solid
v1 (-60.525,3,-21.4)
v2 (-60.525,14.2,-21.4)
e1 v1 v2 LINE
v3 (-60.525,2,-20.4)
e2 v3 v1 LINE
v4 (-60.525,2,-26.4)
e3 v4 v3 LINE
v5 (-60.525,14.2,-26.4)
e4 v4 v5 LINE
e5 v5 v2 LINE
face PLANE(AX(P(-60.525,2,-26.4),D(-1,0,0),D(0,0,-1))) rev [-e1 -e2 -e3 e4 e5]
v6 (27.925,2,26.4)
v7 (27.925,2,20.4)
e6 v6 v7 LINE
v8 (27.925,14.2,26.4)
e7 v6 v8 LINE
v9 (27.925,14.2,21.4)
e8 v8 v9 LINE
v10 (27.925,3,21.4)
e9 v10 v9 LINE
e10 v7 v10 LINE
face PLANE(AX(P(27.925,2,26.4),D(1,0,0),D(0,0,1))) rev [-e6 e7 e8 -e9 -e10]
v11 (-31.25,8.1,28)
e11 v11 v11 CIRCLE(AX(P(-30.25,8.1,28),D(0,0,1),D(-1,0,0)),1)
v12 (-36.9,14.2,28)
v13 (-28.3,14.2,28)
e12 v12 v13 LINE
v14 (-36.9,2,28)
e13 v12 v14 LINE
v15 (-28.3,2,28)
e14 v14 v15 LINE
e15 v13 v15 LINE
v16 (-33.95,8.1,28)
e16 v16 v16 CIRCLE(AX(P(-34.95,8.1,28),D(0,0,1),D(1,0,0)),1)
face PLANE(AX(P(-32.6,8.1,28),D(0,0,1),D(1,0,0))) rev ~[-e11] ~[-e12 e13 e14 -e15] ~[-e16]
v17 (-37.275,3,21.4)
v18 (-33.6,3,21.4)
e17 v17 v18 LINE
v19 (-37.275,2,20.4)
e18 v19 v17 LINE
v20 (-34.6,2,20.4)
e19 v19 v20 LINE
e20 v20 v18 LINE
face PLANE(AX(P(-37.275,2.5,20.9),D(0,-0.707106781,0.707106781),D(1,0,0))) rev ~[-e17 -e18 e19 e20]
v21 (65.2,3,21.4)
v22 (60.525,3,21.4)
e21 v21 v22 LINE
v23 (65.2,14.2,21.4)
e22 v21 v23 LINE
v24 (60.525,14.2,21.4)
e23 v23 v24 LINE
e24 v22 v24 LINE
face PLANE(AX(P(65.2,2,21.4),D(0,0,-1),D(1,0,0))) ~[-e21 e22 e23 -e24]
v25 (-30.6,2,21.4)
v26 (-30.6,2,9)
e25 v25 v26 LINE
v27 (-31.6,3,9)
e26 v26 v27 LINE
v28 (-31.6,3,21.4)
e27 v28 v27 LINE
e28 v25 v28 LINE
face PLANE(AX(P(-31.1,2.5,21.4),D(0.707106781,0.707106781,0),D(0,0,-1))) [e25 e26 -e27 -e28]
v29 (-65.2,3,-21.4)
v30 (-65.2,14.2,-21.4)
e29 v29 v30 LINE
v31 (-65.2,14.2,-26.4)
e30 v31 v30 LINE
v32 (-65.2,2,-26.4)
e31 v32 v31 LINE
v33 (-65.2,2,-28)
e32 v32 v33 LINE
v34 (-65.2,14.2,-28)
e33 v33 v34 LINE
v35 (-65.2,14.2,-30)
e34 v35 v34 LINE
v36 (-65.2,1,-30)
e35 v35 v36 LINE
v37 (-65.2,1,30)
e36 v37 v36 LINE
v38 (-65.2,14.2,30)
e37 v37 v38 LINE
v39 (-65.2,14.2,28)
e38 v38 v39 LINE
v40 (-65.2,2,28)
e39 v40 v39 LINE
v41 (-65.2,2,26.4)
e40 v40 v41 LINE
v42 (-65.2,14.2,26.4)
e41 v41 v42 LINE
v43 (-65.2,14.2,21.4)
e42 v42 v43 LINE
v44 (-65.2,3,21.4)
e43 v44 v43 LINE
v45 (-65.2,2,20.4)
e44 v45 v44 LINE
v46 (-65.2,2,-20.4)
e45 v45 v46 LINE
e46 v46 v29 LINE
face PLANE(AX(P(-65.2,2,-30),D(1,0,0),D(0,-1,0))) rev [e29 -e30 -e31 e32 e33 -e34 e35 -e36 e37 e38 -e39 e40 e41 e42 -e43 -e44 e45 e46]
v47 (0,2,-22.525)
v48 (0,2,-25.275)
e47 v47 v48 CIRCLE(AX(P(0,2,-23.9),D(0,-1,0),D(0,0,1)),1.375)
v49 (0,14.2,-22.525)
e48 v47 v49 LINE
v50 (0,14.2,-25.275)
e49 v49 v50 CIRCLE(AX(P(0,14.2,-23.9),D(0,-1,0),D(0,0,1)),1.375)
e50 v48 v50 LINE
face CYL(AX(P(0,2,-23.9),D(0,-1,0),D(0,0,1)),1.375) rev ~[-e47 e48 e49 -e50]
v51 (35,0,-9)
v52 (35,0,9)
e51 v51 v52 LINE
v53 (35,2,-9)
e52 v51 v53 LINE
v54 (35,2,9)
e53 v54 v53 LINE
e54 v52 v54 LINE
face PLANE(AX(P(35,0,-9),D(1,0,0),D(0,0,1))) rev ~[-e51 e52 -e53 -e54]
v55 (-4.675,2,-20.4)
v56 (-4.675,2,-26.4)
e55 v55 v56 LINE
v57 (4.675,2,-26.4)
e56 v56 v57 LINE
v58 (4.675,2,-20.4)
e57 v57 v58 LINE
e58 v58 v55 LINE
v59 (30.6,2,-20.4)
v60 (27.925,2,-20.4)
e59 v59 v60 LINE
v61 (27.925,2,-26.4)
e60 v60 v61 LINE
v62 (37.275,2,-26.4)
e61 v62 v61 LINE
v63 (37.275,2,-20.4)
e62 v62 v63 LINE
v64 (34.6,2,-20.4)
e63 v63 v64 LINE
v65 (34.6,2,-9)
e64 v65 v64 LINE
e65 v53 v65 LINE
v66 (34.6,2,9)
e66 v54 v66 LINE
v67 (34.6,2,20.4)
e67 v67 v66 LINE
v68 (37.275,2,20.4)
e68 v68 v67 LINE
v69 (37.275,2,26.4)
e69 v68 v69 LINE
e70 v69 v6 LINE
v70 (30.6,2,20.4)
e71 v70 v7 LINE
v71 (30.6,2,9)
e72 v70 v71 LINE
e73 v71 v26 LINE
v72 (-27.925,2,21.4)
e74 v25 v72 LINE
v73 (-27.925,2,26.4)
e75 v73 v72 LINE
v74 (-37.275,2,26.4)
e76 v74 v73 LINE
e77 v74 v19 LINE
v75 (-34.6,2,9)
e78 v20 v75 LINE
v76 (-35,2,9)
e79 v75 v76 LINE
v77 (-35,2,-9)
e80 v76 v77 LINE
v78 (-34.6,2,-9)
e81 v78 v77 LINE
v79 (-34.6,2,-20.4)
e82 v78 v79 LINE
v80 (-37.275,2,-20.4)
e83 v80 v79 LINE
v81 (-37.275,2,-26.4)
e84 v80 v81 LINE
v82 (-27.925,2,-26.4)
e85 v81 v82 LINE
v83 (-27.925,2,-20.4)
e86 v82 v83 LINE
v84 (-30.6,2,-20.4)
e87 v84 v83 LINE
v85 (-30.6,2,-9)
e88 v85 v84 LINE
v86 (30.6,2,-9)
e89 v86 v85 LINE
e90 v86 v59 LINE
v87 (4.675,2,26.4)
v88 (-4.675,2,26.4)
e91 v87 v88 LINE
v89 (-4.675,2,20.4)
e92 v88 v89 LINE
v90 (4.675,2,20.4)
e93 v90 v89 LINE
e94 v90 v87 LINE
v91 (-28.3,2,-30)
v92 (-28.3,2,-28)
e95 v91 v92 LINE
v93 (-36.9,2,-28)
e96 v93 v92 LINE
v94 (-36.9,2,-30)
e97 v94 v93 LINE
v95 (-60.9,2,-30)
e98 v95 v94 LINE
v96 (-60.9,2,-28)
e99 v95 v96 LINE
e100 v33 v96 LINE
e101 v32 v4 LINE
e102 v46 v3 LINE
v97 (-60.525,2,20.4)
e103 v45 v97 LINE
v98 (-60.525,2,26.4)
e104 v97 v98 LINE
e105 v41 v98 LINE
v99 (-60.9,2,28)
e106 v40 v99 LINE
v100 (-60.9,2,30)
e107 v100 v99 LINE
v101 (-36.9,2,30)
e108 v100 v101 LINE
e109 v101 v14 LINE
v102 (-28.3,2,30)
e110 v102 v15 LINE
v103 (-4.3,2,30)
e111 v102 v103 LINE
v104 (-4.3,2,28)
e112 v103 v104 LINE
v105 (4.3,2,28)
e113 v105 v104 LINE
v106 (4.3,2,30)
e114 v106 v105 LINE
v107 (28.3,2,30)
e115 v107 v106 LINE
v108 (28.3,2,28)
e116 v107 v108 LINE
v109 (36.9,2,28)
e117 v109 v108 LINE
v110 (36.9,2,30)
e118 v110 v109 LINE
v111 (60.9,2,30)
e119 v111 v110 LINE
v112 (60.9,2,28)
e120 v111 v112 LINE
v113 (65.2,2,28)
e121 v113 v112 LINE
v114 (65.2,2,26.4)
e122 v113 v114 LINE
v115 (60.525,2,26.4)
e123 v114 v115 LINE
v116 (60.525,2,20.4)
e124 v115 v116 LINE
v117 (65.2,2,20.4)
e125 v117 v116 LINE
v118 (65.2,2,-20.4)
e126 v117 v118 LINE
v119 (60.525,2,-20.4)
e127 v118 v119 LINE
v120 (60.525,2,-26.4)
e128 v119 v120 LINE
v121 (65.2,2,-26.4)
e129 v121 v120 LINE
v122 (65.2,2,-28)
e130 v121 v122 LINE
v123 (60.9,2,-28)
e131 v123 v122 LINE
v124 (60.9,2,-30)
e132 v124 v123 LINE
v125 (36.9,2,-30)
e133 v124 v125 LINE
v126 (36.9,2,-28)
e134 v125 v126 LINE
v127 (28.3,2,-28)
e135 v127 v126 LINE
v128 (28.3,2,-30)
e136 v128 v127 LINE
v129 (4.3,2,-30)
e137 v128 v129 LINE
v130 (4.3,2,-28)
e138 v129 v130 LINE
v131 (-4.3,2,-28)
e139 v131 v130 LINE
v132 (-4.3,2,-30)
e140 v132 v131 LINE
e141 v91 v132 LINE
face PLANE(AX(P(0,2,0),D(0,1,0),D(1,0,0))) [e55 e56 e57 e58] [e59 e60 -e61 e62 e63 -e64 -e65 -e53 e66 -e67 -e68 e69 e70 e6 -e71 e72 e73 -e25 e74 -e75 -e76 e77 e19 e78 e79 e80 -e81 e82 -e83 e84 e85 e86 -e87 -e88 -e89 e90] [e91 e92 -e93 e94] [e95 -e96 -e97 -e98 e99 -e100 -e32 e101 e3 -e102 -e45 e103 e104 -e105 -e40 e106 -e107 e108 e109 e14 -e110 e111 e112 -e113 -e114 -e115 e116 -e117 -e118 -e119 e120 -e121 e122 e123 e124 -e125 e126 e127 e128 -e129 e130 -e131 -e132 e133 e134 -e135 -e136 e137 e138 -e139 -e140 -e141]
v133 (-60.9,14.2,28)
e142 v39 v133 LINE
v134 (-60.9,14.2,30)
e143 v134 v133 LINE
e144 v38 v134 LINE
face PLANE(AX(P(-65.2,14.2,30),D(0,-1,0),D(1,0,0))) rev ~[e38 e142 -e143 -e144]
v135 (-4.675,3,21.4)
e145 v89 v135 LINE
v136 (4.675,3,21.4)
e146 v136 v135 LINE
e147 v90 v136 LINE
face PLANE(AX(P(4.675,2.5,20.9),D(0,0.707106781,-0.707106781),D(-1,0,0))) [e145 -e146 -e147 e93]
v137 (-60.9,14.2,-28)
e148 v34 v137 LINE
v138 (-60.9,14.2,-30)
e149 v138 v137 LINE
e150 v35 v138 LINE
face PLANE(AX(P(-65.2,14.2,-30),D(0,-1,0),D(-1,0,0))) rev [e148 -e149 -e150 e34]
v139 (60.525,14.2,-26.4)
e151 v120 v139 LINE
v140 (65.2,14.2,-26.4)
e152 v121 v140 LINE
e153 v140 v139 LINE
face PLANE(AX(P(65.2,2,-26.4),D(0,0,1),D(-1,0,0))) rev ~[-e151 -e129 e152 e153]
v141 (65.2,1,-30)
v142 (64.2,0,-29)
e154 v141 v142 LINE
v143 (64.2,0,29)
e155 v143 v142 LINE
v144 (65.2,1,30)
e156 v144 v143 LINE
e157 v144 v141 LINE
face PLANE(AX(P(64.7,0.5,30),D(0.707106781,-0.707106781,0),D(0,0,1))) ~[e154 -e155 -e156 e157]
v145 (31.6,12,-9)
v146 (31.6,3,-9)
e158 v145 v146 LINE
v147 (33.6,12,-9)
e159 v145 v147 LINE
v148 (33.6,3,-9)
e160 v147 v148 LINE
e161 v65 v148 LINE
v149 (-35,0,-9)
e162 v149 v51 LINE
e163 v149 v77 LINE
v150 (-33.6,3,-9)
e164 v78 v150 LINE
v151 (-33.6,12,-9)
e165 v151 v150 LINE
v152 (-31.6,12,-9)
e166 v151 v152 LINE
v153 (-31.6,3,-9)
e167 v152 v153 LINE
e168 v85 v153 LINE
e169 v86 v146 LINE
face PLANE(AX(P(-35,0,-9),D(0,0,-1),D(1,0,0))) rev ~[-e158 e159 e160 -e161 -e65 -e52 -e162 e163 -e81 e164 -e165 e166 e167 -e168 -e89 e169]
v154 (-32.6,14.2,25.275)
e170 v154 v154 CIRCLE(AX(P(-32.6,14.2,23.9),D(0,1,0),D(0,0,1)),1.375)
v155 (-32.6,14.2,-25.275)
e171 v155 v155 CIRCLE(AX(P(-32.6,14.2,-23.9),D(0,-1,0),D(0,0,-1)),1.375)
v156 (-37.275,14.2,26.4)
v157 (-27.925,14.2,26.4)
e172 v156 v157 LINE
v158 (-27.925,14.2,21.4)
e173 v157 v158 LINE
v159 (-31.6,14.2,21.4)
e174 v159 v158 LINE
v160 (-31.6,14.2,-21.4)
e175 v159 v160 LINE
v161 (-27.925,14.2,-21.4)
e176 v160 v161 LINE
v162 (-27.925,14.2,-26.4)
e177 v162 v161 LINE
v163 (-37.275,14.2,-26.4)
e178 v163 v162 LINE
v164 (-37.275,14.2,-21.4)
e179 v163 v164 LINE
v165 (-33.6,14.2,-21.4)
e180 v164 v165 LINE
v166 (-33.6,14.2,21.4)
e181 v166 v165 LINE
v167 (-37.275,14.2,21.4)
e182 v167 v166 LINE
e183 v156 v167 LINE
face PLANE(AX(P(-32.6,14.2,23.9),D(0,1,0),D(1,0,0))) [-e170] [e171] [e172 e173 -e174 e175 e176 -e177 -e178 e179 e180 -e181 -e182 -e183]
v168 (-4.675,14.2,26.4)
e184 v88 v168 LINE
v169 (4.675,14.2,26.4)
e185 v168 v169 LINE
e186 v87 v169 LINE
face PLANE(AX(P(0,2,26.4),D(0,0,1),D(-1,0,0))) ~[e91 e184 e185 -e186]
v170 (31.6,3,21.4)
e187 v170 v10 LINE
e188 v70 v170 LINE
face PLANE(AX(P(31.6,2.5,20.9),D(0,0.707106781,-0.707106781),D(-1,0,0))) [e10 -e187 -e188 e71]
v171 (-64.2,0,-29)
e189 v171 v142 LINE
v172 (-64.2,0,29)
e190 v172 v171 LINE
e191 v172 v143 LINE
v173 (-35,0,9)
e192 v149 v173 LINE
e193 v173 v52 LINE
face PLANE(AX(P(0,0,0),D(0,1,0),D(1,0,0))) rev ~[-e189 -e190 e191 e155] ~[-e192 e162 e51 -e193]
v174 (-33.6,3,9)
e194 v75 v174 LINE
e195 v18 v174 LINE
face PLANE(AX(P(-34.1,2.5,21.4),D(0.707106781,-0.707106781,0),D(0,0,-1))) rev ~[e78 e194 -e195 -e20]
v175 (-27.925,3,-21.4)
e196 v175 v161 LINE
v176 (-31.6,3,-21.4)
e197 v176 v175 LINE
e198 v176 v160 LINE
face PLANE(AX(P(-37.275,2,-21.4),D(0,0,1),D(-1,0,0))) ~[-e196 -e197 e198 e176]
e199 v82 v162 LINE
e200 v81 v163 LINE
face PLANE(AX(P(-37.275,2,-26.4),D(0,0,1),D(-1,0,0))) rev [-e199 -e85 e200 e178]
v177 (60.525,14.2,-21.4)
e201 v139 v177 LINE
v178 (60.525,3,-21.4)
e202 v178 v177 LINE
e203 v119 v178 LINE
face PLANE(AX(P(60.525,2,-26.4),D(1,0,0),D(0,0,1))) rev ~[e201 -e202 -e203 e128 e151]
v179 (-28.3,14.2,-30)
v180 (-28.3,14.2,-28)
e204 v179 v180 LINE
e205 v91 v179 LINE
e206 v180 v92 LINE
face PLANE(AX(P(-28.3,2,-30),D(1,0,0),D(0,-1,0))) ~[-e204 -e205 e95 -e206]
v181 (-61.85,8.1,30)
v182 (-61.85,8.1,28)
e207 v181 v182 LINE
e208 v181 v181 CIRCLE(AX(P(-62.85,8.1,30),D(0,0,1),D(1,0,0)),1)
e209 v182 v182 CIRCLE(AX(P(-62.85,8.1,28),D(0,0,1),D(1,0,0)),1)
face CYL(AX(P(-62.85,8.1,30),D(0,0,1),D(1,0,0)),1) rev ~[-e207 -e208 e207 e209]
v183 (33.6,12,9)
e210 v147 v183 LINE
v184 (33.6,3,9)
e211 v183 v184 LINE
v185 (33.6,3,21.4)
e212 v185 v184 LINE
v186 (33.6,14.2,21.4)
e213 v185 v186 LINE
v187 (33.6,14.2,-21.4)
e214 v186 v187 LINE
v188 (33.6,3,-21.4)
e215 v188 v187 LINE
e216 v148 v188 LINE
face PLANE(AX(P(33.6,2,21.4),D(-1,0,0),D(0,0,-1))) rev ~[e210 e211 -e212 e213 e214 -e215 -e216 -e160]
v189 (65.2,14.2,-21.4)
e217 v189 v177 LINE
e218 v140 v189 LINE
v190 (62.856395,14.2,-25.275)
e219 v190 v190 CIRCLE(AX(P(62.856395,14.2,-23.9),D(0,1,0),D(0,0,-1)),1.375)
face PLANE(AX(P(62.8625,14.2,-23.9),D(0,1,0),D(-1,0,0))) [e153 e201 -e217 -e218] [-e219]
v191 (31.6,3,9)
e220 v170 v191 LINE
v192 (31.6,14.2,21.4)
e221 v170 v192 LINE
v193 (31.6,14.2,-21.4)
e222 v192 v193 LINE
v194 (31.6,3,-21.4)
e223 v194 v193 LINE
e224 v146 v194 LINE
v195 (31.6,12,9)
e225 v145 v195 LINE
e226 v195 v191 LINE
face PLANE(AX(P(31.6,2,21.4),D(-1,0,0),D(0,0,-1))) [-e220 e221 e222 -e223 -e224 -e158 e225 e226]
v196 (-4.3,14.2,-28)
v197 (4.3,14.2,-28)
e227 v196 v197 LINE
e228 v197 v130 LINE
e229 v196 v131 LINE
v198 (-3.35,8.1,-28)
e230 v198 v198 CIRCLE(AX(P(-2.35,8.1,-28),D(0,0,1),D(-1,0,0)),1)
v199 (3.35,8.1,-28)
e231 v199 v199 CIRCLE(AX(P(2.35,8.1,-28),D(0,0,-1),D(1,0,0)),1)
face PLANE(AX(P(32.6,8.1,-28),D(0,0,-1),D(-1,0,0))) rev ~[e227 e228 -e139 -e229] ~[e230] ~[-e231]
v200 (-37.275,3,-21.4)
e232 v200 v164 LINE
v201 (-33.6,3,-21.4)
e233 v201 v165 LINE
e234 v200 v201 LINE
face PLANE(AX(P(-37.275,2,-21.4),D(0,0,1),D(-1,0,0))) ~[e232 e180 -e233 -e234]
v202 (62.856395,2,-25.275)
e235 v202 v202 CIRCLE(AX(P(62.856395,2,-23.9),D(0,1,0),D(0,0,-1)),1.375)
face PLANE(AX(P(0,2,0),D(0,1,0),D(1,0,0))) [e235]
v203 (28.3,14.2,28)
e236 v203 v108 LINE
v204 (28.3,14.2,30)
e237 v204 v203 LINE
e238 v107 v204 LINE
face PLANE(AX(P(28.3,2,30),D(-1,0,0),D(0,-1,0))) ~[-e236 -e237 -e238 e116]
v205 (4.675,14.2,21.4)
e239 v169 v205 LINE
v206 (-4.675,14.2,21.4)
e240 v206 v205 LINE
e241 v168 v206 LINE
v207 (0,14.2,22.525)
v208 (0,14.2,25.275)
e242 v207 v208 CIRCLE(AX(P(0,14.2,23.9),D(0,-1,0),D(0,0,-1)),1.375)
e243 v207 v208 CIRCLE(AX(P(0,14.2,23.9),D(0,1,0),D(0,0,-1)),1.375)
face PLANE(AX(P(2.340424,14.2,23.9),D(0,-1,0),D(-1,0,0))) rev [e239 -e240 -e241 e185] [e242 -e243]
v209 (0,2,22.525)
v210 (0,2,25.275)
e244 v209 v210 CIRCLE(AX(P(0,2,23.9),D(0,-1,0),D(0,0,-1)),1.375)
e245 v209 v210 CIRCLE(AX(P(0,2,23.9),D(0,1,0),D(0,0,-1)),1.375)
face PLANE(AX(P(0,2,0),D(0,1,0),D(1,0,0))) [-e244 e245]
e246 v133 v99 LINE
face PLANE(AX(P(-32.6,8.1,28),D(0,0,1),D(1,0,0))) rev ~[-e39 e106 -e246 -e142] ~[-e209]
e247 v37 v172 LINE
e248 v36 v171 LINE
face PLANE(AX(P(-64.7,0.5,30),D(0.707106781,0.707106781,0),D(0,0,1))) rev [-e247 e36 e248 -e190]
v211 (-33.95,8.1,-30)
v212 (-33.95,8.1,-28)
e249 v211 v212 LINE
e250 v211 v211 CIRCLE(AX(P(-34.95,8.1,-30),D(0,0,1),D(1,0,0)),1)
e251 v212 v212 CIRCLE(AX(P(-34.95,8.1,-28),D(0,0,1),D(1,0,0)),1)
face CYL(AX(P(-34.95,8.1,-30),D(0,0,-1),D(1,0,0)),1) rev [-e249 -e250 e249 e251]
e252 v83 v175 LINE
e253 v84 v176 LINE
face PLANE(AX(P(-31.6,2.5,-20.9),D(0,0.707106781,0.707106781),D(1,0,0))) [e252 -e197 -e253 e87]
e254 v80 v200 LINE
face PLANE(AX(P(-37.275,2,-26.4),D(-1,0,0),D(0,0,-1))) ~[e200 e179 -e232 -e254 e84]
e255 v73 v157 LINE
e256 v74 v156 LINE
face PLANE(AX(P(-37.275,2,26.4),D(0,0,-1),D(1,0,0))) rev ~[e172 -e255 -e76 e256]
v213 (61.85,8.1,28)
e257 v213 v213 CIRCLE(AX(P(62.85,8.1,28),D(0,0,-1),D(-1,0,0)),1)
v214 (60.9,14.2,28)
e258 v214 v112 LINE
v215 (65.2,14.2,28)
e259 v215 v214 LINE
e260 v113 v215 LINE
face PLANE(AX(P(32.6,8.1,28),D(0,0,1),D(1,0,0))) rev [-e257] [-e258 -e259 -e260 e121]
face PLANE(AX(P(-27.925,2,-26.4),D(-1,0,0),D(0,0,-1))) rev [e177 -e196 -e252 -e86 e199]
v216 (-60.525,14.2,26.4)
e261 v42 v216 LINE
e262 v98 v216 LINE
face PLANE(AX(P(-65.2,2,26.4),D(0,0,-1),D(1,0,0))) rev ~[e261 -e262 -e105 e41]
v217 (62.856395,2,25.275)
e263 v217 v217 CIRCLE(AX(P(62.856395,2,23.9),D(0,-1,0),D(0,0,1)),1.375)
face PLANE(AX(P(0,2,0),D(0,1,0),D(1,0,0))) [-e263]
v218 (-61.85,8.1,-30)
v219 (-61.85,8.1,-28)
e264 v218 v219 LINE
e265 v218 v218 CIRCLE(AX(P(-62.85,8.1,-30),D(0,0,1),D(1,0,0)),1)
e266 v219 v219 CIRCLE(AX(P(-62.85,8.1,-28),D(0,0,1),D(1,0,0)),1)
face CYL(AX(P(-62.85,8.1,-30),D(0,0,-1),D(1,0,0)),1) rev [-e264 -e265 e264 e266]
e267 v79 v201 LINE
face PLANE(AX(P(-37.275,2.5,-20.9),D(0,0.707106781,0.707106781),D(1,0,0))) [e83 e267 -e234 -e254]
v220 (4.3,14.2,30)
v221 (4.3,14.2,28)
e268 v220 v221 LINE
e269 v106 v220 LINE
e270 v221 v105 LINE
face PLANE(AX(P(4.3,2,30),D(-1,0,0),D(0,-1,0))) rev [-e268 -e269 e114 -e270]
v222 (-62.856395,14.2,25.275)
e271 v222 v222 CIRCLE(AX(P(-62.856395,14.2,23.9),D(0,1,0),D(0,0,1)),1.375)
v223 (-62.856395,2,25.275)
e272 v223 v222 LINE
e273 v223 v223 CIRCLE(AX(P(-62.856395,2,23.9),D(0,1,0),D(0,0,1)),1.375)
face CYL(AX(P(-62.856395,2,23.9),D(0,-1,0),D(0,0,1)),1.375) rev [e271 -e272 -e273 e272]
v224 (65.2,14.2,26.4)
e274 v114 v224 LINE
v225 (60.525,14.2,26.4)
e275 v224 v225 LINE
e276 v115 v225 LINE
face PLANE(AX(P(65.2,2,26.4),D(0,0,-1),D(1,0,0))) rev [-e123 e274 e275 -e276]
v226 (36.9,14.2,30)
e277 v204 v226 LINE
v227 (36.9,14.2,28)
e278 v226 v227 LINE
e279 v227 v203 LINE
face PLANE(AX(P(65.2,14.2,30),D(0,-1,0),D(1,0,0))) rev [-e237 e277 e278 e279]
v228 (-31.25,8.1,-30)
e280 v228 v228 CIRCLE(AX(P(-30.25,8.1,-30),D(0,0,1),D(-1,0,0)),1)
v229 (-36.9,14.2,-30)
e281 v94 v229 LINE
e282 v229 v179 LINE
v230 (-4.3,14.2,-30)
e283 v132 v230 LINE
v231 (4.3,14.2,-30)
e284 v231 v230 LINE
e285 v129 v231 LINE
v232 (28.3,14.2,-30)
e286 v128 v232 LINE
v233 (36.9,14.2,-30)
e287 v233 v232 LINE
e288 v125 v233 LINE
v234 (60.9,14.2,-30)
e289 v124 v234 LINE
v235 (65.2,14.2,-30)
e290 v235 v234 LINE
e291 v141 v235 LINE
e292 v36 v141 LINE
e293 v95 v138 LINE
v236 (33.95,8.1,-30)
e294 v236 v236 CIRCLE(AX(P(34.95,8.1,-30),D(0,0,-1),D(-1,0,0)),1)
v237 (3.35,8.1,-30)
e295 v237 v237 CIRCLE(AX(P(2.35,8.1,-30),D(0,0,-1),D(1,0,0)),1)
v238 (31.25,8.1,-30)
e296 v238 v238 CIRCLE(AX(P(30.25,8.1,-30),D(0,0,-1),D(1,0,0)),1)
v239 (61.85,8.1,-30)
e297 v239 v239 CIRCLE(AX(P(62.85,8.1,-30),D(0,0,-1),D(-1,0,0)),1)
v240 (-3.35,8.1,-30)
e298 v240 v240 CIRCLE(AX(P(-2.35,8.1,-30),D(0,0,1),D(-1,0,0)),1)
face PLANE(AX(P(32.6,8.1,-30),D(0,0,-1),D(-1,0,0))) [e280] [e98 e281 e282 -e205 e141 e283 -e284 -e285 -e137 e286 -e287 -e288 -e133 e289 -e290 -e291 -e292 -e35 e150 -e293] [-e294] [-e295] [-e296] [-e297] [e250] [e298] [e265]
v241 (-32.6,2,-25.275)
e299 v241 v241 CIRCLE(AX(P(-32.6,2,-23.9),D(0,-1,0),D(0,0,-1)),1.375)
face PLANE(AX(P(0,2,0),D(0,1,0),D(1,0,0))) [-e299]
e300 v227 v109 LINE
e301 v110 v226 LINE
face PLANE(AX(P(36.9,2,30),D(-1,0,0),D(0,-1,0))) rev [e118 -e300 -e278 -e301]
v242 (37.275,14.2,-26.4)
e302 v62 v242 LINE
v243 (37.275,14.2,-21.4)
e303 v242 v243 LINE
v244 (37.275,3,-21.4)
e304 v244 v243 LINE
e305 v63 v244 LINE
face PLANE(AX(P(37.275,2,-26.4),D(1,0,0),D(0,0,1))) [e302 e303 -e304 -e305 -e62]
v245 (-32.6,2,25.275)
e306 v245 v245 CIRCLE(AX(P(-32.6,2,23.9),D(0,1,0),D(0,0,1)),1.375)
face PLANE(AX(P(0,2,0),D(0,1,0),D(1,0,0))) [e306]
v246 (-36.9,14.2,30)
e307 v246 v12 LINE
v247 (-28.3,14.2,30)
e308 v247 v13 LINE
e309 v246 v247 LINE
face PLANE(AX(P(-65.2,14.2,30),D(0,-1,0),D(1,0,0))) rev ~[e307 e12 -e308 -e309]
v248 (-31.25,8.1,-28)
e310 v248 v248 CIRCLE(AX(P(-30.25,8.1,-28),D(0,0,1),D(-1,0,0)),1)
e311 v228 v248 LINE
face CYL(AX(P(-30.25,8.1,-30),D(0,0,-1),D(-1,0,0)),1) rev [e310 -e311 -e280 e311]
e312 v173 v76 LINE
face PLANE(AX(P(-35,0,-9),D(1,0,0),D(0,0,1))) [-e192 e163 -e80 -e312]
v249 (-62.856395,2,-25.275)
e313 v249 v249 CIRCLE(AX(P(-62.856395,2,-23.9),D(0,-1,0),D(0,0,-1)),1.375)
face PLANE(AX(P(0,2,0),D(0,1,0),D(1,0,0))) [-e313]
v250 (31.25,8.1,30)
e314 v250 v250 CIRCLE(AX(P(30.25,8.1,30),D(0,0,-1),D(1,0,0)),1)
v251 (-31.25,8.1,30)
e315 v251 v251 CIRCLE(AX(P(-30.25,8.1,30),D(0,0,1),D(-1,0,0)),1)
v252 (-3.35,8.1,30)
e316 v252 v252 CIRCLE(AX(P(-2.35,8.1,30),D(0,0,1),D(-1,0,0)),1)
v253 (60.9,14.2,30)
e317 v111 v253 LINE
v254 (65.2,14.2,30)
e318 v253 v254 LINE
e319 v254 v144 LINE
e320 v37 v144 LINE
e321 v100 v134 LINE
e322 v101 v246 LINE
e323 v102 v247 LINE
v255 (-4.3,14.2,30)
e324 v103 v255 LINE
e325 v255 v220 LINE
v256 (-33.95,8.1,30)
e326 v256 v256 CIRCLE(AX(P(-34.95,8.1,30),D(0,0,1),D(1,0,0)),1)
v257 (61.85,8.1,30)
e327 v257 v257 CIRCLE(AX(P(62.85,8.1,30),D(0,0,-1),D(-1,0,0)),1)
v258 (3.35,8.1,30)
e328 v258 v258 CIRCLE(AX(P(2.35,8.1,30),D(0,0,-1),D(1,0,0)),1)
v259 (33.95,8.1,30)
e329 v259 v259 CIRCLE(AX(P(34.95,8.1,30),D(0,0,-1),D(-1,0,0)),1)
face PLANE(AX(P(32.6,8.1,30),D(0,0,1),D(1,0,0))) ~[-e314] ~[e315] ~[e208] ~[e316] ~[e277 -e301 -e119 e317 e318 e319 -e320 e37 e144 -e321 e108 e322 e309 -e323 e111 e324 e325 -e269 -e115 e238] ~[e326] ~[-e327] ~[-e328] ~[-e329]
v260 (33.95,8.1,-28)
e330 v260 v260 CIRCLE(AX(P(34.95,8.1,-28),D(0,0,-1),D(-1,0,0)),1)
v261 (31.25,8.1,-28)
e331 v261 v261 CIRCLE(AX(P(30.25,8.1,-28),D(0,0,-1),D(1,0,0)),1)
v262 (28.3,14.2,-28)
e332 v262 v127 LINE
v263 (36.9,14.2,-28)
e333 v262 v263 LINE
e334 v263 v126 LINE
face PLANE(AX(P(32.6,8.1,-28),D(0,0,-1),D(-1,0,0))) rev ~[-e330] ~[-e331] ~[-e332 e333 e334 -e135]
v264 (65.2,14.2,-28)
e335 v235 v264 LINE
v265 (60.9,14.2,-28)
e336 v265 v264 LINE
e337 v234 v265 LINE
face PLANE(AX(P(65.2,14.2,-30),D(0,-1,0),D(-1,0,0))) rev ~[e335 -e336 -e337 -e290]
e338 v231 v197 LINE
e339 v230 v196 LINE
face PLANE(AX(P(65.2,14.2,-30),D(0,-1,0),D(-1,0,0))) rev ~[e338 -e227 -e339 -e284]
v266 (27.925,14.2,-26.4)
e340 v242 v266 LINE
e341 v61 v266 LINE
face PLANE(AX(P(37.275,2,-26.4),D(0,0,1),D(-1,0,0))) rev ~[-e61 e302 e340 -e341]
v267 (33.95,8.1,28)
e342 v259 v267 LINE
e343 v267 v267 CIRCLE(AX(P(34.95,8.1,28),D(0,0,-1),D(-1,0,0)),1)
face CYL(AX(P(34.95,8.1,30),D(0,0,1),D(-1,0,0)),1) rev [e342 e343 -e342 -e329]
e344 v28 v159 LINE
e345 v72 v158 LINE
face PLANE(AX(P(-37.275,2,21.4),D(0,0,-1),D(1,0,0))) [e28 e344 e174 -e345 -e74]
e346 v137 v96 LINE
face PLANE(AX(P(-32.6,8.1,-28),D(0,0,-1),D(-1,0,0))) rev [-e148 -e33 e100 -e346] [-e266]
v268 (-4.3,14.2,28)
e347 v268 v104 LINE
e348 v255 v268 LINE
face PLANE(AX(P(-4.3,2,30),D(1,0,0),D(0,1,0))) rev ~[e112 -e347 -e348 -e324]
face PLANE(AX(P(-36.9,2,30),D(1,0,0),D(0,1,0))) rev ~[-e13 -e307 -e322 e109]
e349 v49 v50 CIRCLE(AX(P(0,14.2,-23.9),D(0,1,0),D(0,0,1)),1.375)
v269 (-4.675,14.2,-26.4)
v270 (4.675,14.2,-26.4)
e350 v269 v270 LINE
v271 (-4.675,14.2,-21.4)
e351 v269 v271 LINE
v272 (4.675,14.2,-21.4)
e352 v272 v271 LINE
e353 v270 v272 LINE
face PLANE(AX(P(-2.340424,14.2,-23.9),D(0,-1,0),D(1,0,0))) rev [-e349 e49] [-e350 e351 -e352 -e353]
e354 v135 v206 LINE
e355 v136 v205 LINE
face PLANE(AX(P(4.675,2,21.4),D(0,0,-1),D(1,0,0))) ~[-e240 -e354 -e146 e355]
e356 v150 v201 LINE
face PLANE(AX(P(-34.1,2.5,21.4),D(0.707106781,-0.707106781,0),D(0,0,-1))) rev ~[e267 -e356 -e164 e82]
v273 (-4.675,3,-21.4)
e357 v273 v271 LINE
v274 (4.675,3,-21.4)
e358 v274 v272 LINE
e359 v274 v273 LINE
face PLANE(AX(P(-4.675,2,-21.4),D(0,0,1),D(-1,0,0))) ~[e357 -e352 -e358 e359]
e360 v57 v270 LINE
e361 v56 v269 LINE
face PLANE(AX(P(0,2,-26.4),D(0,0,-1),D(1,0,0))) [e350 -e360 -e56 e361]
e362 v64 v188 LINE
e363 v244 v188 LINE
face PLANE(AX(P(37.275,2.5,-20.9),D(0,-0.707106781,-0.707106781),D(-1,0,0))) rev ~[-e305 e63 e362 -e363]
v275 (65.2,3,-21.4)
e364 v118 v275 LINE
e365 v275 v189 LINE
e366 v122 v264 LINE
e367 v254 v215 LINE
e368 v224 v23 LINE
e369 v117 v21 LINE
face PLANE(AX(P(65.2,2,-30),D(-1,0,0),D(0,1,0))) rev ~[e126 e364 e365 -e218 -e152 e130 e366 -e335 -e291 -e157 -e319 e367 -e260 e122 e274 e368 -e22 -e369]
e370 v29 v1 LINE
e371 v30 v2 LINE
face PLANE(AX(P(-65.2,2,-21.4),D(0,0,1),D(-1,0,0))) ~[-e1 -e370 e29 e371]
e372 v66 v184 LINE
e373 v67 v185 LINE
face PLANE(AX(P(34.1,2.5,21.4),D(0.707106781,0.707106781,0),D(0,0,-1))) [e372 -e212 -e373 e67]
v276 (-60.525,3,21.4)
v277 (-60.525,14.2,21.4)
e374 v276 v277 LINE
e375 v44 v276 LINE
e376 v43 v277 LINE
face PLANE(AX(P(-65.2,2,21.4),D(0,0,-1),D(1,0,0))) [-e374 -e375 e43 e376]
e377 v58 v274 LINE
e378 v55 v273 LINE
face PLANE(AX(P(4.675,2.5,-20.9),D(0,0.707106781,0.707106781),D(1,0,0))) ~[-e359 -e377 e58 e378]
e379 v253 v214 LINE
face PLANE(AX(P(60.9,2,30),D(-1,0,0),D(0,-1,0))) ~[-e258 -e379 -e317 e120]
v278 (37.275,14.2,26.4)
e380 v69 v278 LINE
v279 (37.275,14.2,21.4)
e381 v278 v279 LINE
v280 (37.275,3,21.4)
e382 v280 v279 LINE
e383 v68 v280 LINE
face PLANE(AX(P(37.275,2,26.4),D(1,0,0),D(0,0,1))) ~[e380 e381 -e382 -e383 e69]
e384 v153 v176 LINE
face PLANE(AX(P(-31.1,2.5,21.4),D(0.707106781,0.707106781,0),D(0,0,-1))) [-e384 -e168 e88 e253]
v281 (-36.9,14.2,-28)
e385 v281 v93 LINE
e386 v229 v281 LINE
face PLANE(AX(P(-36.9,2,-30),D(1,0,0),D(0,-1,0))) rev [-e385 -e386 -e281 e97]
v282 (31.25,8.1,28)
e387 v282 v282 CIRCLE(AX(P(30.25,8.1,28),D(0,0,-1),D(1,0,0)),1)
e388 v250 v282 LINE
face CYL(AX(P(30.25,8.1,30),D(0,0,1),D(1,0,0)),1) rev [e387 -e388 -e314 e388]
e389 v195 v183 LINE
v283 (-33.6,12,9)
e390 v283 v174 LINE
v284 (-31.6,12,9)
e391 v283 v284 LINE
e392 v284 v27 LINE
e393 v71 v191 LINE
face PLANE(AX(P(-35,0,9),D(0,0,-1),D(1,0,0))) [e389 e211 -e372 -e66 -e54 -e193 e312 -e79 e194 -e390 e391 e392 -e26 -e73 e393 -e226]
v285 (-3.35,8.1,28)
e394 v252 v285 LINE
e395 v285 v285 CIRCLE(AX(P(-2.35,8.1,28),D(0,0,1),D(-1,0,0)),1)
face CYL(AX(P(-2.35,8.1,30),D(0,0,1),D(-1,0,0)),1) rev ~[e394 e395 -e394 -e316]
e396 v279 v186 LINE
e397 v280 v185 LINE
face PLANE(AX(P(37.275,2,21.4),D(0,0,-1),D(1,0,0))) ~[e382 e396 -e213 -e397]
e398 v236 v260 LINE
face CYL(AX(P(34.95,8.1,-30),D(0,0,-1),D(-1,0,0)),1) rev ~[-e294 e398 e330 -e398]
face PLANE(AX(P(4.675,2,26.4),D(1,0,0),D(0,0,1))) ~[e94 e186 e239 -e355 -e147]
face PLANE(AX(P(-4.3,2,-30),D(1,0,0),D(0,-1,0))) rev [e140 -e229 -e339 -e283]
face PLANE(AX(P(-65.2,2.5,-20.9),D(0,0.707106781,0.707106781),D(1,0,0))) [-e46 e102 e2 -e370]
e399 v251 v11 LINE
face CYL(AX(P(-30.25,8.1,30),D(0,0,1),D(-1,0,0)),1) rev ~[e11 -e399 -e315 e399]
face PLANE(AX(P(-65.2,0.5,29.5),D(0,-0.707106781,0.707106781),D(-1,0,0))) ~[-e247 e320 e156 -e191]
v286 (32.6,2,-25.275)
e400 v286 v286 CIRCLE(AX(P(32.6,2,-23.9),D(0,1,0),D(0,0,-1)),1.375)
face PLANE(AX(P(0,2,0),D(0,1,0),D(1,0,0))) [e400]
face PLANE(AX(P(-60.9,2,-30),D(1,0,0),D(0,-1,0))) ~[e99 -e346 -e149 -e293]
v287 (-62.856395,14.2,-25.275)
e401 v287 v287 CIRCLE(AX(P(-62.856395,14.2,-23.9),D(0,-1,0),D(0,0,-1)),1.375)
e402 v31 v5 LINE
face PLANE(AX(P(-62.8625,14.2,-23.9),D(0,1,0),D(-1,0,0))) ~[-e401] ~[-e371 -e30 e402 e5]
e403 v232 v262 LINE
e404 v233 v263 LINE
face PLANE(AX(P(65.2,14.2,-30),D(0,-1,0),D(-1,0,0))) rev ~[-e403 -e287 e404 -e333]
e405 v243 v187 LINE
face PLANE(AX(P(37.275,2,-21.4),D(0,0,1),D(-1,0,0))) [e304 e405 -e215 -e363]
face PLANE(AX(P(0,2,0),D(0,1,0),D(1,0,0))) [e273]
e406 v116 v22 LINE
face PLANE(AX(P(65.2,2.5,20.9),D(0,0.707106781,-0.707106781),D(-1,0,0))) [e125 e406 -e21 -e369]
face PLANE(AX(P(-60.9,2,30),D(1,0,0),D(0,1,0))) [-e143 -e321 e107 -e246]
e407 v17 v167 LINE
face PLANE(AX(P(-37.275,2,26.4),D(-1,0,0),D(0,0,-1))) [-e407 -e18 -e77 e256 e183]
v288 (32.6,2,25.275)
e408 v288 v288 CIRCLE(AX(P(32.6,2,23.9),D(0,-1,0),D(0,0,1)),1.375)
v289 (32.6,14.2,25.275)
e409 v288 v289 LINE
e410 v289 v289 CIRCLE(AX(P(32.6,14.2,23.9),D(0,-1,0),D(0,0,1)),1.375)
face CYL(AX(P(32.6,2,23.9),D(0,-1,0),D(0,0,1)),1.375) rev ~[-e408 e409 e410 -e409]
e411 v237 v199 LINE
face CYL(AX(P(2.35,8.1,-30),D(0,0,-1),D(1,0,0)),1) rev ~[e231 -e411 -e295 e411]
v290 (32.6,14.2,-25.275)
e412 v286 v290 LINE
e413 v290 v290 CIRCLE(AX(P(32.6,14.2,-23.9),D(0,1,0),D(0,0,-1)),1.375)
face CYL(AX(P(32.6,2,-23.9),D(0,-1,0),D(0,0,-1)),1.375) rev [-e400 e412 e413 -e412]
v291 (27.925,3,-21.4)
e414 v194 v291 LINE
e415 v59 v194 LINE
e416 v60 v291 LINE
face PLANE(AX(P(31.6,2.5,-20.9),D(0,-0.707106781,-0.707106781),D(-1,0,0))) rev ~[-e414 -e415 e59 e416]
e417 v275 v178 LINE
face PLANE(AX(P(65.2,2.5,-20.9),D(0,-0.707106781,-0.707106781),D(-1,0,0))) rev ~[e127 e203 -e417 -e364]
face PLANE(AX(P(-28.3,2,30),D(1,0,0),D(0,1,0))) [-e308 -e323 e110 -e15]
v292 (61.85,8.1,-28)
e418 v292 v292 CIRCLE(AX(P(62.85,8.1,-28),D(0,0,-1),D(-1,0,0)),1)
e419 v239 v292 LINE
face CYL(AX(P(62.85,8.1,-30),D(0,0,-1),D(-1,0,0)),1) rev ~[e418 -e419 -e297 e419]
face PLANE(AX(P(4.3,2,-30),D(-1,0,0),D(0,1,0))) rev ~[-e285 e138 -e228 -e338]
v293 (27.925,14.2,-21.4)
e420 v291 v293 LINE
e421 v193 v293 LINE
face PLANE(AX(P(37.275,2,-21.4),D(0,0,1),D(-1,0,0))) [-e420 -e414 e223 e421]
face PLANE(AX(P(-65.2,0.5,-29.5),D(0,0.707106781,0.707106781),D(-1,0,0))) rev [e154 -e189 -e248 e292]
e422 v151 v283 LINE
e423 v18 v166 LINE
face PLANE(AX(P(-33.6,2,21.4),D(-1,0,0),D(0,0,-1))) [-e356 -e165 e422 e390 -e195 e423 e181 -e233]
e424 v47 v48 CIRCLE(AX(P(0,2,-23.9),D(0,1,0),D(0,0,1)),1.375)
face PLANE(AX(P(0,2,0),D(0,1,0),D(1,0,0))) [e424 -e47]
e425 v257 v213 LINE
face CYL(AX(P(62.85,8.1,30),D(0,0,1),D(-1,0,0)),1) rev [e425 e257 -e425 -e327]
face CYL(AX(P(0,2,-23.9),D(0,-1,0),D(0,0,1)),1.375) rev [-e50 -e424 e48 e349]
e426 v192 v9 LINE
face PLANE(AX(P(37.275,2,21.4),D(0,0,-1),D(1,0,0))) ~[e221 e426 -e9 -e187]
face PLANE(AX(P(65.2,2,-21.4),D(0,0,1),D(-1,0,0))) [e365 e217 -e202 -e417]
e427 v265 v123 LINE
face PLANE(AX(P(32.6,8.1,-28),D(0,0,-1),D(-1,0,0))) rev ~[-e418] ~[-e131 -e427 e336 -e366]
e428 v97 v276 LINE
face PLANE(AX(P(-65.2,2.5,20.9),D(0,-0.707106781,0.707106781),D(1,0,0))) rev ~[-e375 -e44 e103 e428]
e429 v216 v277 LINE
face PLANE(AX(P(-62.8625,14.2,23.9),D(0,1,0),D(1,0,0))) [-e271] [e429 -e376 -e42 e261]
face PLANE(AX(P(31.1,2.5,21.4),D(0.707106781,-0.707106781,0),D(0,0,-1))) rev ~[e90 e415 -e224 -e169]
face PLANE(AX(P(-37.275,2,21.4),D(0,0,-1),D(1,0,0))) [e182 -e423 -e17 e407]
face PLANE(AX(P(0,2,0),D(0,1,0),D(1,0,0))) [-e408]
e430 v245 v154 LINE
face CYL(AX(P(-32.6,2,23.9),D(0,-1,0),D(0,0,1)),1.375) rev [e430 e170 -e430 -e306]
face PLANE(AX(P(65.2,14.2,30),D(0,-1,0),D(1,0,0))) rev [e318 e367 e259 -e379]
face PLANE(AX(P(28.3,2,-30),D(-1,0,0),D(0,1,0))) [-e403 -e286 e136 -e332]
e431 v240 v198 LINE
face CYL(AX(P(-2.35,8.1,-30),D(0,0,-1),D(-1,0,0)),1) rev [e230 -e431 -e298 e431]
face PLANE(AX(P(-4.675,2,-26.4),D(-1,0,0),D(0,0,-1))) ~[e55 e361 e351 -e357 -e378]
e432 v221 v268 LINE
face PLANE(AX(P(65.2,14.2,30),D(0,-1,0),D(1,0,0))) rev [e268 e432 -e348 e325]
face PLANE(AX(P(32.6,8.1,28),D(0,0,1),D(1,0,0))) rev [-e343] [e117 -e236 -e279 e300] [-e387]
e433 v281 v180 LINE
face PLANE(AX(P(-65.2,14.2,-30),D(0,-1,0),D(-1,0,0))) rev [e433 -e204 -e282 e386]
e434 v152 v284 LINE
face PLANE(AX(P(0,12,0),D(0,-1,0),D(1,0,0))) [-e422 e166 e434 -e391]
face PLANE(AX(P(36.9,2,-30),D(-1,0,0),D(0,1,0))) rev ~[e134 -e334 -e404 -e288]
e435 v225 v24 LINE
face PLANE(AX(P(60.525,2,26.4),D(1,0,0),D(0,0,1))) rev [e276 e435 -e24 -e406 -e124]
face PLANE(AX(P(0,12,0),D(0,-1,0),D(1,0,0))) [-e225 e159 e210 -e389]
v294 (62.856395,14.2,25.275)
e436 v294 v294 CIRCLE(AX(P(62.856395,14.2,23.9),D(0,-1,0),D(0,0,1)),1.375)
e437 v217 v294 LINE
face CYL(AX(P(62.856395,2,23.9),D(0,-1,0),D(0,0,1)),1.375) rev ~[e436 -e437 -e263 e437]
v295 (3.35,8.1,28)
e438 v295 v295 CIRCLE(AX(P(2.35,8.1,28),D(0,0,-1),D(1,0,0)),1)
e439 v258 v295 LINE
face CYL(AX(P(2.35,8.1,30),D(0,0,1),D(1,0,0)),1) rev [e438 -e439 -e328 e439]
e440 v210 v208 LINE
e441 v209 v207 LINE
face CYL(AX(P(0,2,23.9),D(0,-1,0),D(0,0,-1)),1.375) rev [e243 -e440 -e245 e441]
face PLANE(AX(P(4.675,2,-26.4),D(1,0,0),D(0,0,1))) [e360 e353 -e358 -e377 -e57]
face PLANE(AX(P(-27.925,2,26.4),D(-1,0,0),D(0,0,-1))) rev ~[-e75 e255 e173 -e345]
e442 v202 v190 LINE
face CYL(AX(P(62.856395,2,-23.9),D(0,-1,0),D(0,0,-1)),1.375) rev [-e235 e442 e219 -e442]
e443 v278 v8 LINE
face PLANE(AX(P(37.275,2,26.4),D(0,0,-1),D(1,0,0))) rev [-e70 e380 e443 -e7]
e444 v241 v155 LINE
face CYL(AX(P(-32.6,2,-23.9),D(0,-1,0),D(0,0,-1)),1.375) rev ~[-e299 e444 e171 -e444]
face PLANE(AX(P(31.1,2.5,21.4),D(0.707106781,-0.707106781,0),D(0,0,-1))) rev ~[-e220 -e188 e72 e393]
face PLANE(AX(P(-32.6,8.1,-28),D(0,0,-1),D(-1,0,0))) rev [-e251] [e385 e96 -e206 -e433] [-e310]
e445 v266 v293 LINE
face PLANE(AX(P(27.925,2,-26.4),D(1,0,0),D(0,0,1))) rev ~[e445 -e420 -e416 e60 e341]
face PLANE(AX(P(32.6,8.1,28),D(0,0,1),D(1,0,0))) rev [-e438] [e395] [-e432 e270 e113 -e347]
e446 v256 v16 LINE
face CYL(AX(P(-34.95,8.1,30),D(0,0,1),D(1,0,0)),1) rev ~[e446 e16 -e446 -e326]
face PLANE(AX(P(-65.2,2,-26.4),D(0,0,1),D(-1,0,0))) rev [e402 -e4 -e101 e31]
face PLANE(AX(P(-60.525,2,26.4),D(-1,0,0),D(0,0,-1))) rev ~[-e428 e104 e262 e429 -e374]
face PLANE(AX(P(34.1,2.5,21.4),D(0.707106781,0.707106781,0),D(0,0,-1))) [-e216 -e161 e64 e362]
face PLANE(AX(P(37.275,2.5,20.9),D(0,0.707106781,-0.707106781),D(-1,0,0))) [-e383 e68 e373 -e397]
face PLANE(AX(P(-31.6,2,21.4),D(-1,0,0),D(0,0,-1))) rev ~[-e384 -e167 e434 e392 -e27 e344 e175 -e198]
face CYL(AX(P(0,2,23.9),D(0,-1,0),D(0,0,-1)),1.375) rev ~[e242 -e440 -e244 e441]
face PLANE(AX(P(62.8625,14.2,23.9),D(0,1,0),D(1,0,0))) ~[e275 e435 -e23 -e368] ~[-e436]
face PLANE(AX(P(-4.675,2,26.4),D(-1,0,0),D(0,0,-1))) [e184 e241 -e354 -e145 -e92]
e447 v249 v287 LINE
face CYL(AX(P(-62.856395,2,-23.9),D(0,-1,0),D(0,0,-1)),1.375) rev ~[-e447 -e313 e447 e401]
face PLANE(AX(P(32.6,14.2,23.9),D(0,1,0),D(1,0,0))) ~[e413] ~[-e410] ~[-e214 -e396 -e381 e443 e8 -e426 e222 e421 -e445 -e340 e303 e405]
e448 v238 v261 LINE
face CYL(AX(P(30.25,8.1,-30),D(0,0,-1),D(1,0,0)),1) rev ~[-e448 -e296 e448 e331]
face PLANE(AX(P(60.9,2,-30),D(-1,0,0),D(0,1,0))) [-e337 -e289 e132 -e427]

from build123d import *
from build123d.topology import SkipClean

# Parameters (mm, degrees)
CROQUIS1_W                  = 130.4
CROQUIS1_H                  = 60
SALIENTE_EXTRUIR1_DEPTH     = 2
CROQUIS3_W                  = 65.2
CROQUIS3_H                  = 12.2
CROQUIS3_R                  = 1
SALIENTE_EXTRUIR2_DEPTH     = 2
CORTAR_EXTRUIR2_REACH       = 91.737
CROQUIS5_W                  = 24
CROQUIS5_H                  = 12.2
CROQUIS6_W                  = 4.675
CROQUIS6_H                  = 5
CROQUIS6_R                  = 1.375
CROQUIS6_W_2                = 9.35
SALIENTE_EXTRUIR3_DEPTH     = 12.2
SIMETR_A2_COPY_1_SKETCH_W   = 65.2
SIMETR_A2_COPY_1_SKETCH_H   = 12.2
SIMETR_A2_COPY_1_SKETCH_R   = 1
SIMETR_A2_COPY_1_DEPTH      = 2
SIMETR_A2_COPY_2_REACH      = 91.737
SIMETR_A2_COPY_2_SKETCH_W   = 24
SIMETR_A2_COPY_2_SKETCH_H   = 12.2
SIMETR_A2_COPY_3_SKETCH_W   = 4.675
SIMETR_A2_COPY_3_SKETCH_H   = 5
SIMETR_A2_COPY_3_SKETCH_R   = 1.375
SIMETR_A2_COPY_3_SKETCH_W_2 = 9.35
SIMETR_A2_COPY_3_DEPTH      = 12.2
CHAFL_N1_SIZE               = 1
CROQUIS7_W                  = 2
CROQUIS7_H                  = 42.8
SALIENTE_EXTRUIR4_DEPTH     = 12.2
CHAFL_N2_SIZE               = 1
CROQUIS9_W                  = 70
CROQUIS9_H                  = 18
CORTAR_EXTRUIR4_DEPTH       = 12


with BuildPart() as part:
    # Croquis1 → Saliente-Extruir1 (new body)
    with BuildSketch(Plane(origin=(0, 0, 0), x_dir=(1, 0, 0), z_dir=(0, 1, 0))):
        Rectangle(CROQUIS1_W, CROQUIS1_H)
    extrude(amount=SALIENTE_EXTRUIR1_DEPTH)

    # Croquis3 → Saliente-Extruir2 (add)
    with BuildSketch(Plane.XY.offset(30)):
        with Locations((-32.6, 8.1)):
            Rectangle(CROQUIS3_W, CROQUIS3_H)
        with Locations((-62.85, 8.1)):
            Circle(CROQUIS3_R, mode=Mode.SUBTRACT)
        with Locations((-34.95, 8.1)):
            Circle(CROQUIS3_R, mode=Mode.SUBTRACT)
        with Locations(Location((-30.25, 8.1, 0), (0, 0, 180))):
            Circle(CROQUIS3_R, mode=Mode.SUBTRACT)
        with Locations(Location((-2.35, 8.1, 0), (0, 0, 180))):
            Circle(CROQUIS3_R, mode=Mode.SUBTRACT)
    saliente_extruir2 = extrude(amount=-SALIENTE_EXTRUIR2_DEPTH)

    # Croquis5 → Cortar-Extruir2 (cut, up to next)
    with BuildSketch(Plane.XY.offset(30), mode=Mode.PRIVATE) as cortar_extruir2_sk1:
        with Locations((-48.9, 8.1)):
            Rectangle(CROQUIS5_W, CROQUIS5_H)
    cortar_extruir2_tool1 = extrude(cortar_extruir2_sk1.sketch, amount=-CORTAR_EXTRUIR2_REACH, mode=Mode.PRIVATE) & part.part
    # Croquis5 → Cortar-Extruir2 (cut, up to next)
    with BuildSketch(Plane.XY.offset(30), mode=Mode.PRIVATE) as cortar_extruir2_sk2:
        with Locations((-16.3, 8.1)):
            Rectangle(CROQUIS5_W, CROQUIS5_H)
    cortar_extruir2_tool2 = extrude(cortar_extruir2_sk2.sketch, amount=-CORTAR_EXTRUIR2_REACH, mode=Mode.PRIVATE) & part.part
    cortar_extruir2_1 = cortar_extruir2_tool1.solids().sort_by_distance((-48.9, 8.1, 30))[0]
    add(cortar_extruir2_1, mode=Mode.SUBTRACT)
    cortar_extruir2_2 = cortar_extruir2_tool2.solids().sort_by_distance((-16.3, 8.1, 30))[0]
    add(cortar_extruir2_2, mode=Mode.SUBTRACT)
    cortar_extruir2 = cortar_extruir2_1 + cortar_extruir2_2  # Cortar-Extruir2 as one shape, for the pattern or mirror that repeats it

    # Croquis6 → Saliente-Extruir3 (add)
    # profile 1 of 3: a face of its own
    with BuildSketch(Plane(origin=(0, 2, 0), x_dir=(1, 0, 0), z_dir=(0, 1, 0))):
        with Locations((-62.8625, -23.9)):
            Rectangle(CROQUIS6_W, CROQUIS6_H)
        with Locations(Location((-62.856394864, -23.9, 0), (0, 0, 270))):
            Circle(CROQUIS6_R, mode=Mode.SUBTRACT)
    # profile 2 of 3: a face of its own
    with BuildSketch(Plane(origin=(0, 2, 0), x_dir=(1, 0, 0), z_dir=(0, 1, 0))):
        with Locations((-32.6, -23.9)):
            Rectangle(CROQUIS6_W_2, CROQUIS6_H)
        with Locations(Location((-32.6, -23.9, 0), (0, 0, 270))):
            Circle(CROQUIS6_R, mode=Mode.SUBTRACT)
    # profile 3 of 3: a face of its own
    with BuildSketch(Plane(origin=(0, 2, 0), x_dir=(1, 0, 0), z_dir=(0, 1, 0))):
        with BuildLine():
            Line((-4.675, -21.4), (0, -21.4))
            Line((0, -21.4), (0, -22.525))
            ThreePointArc((0, -22.525), (-1.375, -23.9), (0, -25.275))
            Line((0, -25.275), (0, -26.4))
            Line((0, -26.4), (-4.675, -26.4))
            Line((-4.675, -26.4), (-4.675, -21.4))
        make_face()
    saliente_extruir3 = extrude(amount=SALIENTE_EXTRUIR3_DEPTH)

    # Simetría1: Saliente-Extruir2, Cortar-Extruir2, Saliente-Extruir3 across plane
    add(saliente_extruir2.mirror(Plane(origin=(0, 0, 0), x_dir=(0, 0, 1), z_dir=(1, 0, 0))))
    add(cortar_extruir2.mirror(Plane(origin=(0, 0, 0), x_dir=(0, 0, 1), z_dir=(1, 0, 0))), mode=Mode.SUBTRACT)
    add(saliente_extruir3.mirror(Plane(origin=(0, 0, 0), x_dir=(0, 0, 1), z_dir=(1, 0, 0))))

    # Simetría2: Saliente-Extruir2, Cortar-Extruir2, Saliente-Extruir3 across plane
    add(saliente_extruir2.mirror(Plane.XY))
    add(cortar_extruir2.mirror(Plane.XY), mode=Mode.SUBTRACT)
    add(saliente_extruir3.mirror(Plane.XY))

    # Simetría2 copy 1 sketch → Simetría2 copy 1 (add)
    with BuildSketch(Plane(origin=(0, 0, -30), x_dir=(-1, 0, 0), z_dir=(0, 0, -1))):
        with Locations((-32.6, 8.1)):
            Rectangle(SIMETR_A2_COPY_1_SKETCH_W, SIMETR_A2_COPY_1_SKETCH_H)
        with Locations((-62.85, 8.1)):
            Circle(SIMETR_A2_COPY_1_SKETCH_R, mode=Mode.SUBTRACT)
        with Locations((-34.95, 8.1)):
            Circle(SIMETR_A2_COPY_1_SKETCH_R, mode=Mode.SUBTRACT)
        with Locations(Location((-30.25, 8.1, 0), (0, 0, 180))):
            Circle(SIMETR_A2_COPY_1_SKETCH_R, mode=Mode.SUBTRACT)
        with Locations(Location((-2.35, 8.1, 0), (0, 0, 180))):
            Circle(SIMETR_A2_COPY_1_SKETCH_R, mode=Mode.SUBTRACT)
    extrude(amount=-SIMETR_A2_COPY_1_DEPTH)

    # Simetría2 copy 2 sketch → Simetría2 copy 2 (cut, up to next)
    with BuildSketch(Plane(origin=(0, 0, -30), x_dir=(-1, 0, 0), z_dir=(0, 0, -1)), mode=Mode.PRIVATE) as simetr_a2_copy_2_sk1:
        with Locations((-48.9, 8.1)):
            Rectangle(SIMETR_A2_COPY_2_SKETCH_W, SIMETR_A2_COPY_2_SKETCH_H)
    simetr_a2_copy_2_tool1 = extrude(simetr_a2_copy_2_sk1.sketch, amount=-SIMETR_A2_COPY_2_REACH, mode=Mode.PRIVATE) & part.part
    # Simetría2 copy 2 sketch → Simetría2 copy 2 (cut, up to next)
    with BuildSketch(Plane(origin=(0, 0, -30), x_dir=(-1, 0, 0), z_dir=(0, 0, -1)), mode=Mode.PRIVATE) as simetr_a2_copy_2_sk2:
        with Locations((-16.3, 8.1)):
            Rectangle(SIMETR_A2_COPY_2_SKETCH_W, SIMETR_A2_COPY_2_SKETCH_H)
    simetr_a2_copy_2_tool2 = extrude(simetr_a2_copy_2_sk2.sketch, amount=-SIMETR_A2_COPY_2_REACH, mode=Mode.PRIVATE) & part.part
    add(simetr_a2_copy_2_tool1.solids().sort_by_distance((48.9, 8.1, -30))[0], mode=Mode.SUBTRACT)
    add(simetr_a2_copy_2_tool2.solids().sort_by_distance((16.3, 8.1, -30))[0], mode=Mode.SUBTRACT)

    # Simetría2 copy 3 sketch → Simetría2 copy 3 (add)
    # profile 1 of 3: a face of its own
    with SkipClean():  # the faces are left unmerged after this step: merging them gives an invalid solid
        with BuildSketch(Plane(origin=(0, 2, 0), x_dir=(-1, 0, 0), z_dir=(0, 1, 0))):
            with Locations((-62.8625, -23.9)):
                Rectangle(SIMETR_A2_COPY_3_SKETCH_W, SIMETR_A2_COPY_3_SKETCH_H)
            with Locations(Location((-62.856394864, -23.9, 0), (0, 0, 270))):
                Circle(SIMETR_A2_COPY_3_SKETCH_R, mode=Mode.SUBTRACT)
        # profile 2 of 3: a face of its own
        with BuildSketch(Plane(origin=(0, 2, 0), x_dir=(-1, 0, 0), z_dir=(0, 1, 0))):
            with Locations((-32.6, -23.9)):
                Rectangle(SIMETR_A2_COPY_3_SKETCH_W_2, SIMETR_A2_COPY_3_SKETCH_H)
            with Locations(Location((-32.6, -23.9, 0), (0, 0, 270))):
                Circle(SIMETR_A2_COPY_3_SKETCH_R, mode=Mode.SUBTRACT)
        # profile 3 of 3: a face of its own
        with BuildSketch(Plane(origin=(0, 2, 0), x_dir=(-1, 0, 0), z_dir=(0, 1, 0))):
            with BuildLine():
                Line((-4.675, -21.4), (0, -21.4))
                Line((0, -21.4), (0, -22.525))
                ThreePointArc((0, -22.525), (-1.375, -23.9), (0, -25.275))
                Line((0, -25.275), (0, -26.4))
                Line((0, -26.4), (-4.675, -26.4))
                Line((-4.675, -26.4), (-4.675, -21.4))
            make_face()
        extrude(amount=SIMETR_A2_COPY_3_DEPTH)

    # Chaflán1
    chafl_n1_edges = [part.edges().sort_by_distance(p)[0] for p in [
        (0, 0, 30),
        (-65.2, 0, 0),
        (0, 0, -30),
        (65.2, 0, 0),
    ]]
    chamfer(chafl_n1_edges, length=CHAFL_N1_SIZE)

    # Croquis7 → Saliente-Extruir4 (add)
    with SkipClean():  # the faces are left unmerged after this step: merging them gives an invalid solid
        with BuildSketch(Plane(origin=(0, 2, 0), x_dir=(1, 0, 0), z_dir=(0, 1, 0))):
            with Locations((-32.6, 0)):
                Rectangle(CROQUIS7_W, CROQUIS7_H)
            with Locations((32.6, 0)):
                Rectangle(CROQUIS7_W, CROQUIS7_H)
        extrude(amount=SALIENTE_EXTRUIR4_DEPTH)

    # Chaflán2
    chafl_n2_edges = [part.edges().sort_by_distance(p)[0] for p in [
        (0, 2, 21.4),
        (62.8625, 2, 21.4),
        (29.7625, 2, 21.4),
        (62.8625, 2, -21.4),
        (29.7625, 2, -21.4),
        (-2.3375, 2, -21.4),
        (-62.8625, 2, -21.4),
        (-29.7625, 2, -21.4),
        (-35.4375, 2, -21.4),
        (-35.4375, 2, 21.4),
        (-31.6, 2, 0),
        (-33.6, 2, 0),
        (35.4375, 2, -21.4),
        (35.4375, 2, 21.4),
        (33.6, 2, 0),
        (31.6, 2, 0),
        (-62.8625, 2, 21.4),
    ]]
    chamfer(chafl_n2_edges, length=CHAFL_N2_SIZE)

    # Croquis9 → Cortar-Extruir4 (cut)
    with SkipClean():  # the faces are left unmerged after this step: merging them gives an invalid solid
        with BuildSketch(Plane.XZ):
            Rectangle(CROQUIS9_W, CROQUIS9_H)
        extrude(amount=-CORTAR_EXTRUIR4_DEPTH, mode=Mode.SUBTRACT)


solid = part.part
